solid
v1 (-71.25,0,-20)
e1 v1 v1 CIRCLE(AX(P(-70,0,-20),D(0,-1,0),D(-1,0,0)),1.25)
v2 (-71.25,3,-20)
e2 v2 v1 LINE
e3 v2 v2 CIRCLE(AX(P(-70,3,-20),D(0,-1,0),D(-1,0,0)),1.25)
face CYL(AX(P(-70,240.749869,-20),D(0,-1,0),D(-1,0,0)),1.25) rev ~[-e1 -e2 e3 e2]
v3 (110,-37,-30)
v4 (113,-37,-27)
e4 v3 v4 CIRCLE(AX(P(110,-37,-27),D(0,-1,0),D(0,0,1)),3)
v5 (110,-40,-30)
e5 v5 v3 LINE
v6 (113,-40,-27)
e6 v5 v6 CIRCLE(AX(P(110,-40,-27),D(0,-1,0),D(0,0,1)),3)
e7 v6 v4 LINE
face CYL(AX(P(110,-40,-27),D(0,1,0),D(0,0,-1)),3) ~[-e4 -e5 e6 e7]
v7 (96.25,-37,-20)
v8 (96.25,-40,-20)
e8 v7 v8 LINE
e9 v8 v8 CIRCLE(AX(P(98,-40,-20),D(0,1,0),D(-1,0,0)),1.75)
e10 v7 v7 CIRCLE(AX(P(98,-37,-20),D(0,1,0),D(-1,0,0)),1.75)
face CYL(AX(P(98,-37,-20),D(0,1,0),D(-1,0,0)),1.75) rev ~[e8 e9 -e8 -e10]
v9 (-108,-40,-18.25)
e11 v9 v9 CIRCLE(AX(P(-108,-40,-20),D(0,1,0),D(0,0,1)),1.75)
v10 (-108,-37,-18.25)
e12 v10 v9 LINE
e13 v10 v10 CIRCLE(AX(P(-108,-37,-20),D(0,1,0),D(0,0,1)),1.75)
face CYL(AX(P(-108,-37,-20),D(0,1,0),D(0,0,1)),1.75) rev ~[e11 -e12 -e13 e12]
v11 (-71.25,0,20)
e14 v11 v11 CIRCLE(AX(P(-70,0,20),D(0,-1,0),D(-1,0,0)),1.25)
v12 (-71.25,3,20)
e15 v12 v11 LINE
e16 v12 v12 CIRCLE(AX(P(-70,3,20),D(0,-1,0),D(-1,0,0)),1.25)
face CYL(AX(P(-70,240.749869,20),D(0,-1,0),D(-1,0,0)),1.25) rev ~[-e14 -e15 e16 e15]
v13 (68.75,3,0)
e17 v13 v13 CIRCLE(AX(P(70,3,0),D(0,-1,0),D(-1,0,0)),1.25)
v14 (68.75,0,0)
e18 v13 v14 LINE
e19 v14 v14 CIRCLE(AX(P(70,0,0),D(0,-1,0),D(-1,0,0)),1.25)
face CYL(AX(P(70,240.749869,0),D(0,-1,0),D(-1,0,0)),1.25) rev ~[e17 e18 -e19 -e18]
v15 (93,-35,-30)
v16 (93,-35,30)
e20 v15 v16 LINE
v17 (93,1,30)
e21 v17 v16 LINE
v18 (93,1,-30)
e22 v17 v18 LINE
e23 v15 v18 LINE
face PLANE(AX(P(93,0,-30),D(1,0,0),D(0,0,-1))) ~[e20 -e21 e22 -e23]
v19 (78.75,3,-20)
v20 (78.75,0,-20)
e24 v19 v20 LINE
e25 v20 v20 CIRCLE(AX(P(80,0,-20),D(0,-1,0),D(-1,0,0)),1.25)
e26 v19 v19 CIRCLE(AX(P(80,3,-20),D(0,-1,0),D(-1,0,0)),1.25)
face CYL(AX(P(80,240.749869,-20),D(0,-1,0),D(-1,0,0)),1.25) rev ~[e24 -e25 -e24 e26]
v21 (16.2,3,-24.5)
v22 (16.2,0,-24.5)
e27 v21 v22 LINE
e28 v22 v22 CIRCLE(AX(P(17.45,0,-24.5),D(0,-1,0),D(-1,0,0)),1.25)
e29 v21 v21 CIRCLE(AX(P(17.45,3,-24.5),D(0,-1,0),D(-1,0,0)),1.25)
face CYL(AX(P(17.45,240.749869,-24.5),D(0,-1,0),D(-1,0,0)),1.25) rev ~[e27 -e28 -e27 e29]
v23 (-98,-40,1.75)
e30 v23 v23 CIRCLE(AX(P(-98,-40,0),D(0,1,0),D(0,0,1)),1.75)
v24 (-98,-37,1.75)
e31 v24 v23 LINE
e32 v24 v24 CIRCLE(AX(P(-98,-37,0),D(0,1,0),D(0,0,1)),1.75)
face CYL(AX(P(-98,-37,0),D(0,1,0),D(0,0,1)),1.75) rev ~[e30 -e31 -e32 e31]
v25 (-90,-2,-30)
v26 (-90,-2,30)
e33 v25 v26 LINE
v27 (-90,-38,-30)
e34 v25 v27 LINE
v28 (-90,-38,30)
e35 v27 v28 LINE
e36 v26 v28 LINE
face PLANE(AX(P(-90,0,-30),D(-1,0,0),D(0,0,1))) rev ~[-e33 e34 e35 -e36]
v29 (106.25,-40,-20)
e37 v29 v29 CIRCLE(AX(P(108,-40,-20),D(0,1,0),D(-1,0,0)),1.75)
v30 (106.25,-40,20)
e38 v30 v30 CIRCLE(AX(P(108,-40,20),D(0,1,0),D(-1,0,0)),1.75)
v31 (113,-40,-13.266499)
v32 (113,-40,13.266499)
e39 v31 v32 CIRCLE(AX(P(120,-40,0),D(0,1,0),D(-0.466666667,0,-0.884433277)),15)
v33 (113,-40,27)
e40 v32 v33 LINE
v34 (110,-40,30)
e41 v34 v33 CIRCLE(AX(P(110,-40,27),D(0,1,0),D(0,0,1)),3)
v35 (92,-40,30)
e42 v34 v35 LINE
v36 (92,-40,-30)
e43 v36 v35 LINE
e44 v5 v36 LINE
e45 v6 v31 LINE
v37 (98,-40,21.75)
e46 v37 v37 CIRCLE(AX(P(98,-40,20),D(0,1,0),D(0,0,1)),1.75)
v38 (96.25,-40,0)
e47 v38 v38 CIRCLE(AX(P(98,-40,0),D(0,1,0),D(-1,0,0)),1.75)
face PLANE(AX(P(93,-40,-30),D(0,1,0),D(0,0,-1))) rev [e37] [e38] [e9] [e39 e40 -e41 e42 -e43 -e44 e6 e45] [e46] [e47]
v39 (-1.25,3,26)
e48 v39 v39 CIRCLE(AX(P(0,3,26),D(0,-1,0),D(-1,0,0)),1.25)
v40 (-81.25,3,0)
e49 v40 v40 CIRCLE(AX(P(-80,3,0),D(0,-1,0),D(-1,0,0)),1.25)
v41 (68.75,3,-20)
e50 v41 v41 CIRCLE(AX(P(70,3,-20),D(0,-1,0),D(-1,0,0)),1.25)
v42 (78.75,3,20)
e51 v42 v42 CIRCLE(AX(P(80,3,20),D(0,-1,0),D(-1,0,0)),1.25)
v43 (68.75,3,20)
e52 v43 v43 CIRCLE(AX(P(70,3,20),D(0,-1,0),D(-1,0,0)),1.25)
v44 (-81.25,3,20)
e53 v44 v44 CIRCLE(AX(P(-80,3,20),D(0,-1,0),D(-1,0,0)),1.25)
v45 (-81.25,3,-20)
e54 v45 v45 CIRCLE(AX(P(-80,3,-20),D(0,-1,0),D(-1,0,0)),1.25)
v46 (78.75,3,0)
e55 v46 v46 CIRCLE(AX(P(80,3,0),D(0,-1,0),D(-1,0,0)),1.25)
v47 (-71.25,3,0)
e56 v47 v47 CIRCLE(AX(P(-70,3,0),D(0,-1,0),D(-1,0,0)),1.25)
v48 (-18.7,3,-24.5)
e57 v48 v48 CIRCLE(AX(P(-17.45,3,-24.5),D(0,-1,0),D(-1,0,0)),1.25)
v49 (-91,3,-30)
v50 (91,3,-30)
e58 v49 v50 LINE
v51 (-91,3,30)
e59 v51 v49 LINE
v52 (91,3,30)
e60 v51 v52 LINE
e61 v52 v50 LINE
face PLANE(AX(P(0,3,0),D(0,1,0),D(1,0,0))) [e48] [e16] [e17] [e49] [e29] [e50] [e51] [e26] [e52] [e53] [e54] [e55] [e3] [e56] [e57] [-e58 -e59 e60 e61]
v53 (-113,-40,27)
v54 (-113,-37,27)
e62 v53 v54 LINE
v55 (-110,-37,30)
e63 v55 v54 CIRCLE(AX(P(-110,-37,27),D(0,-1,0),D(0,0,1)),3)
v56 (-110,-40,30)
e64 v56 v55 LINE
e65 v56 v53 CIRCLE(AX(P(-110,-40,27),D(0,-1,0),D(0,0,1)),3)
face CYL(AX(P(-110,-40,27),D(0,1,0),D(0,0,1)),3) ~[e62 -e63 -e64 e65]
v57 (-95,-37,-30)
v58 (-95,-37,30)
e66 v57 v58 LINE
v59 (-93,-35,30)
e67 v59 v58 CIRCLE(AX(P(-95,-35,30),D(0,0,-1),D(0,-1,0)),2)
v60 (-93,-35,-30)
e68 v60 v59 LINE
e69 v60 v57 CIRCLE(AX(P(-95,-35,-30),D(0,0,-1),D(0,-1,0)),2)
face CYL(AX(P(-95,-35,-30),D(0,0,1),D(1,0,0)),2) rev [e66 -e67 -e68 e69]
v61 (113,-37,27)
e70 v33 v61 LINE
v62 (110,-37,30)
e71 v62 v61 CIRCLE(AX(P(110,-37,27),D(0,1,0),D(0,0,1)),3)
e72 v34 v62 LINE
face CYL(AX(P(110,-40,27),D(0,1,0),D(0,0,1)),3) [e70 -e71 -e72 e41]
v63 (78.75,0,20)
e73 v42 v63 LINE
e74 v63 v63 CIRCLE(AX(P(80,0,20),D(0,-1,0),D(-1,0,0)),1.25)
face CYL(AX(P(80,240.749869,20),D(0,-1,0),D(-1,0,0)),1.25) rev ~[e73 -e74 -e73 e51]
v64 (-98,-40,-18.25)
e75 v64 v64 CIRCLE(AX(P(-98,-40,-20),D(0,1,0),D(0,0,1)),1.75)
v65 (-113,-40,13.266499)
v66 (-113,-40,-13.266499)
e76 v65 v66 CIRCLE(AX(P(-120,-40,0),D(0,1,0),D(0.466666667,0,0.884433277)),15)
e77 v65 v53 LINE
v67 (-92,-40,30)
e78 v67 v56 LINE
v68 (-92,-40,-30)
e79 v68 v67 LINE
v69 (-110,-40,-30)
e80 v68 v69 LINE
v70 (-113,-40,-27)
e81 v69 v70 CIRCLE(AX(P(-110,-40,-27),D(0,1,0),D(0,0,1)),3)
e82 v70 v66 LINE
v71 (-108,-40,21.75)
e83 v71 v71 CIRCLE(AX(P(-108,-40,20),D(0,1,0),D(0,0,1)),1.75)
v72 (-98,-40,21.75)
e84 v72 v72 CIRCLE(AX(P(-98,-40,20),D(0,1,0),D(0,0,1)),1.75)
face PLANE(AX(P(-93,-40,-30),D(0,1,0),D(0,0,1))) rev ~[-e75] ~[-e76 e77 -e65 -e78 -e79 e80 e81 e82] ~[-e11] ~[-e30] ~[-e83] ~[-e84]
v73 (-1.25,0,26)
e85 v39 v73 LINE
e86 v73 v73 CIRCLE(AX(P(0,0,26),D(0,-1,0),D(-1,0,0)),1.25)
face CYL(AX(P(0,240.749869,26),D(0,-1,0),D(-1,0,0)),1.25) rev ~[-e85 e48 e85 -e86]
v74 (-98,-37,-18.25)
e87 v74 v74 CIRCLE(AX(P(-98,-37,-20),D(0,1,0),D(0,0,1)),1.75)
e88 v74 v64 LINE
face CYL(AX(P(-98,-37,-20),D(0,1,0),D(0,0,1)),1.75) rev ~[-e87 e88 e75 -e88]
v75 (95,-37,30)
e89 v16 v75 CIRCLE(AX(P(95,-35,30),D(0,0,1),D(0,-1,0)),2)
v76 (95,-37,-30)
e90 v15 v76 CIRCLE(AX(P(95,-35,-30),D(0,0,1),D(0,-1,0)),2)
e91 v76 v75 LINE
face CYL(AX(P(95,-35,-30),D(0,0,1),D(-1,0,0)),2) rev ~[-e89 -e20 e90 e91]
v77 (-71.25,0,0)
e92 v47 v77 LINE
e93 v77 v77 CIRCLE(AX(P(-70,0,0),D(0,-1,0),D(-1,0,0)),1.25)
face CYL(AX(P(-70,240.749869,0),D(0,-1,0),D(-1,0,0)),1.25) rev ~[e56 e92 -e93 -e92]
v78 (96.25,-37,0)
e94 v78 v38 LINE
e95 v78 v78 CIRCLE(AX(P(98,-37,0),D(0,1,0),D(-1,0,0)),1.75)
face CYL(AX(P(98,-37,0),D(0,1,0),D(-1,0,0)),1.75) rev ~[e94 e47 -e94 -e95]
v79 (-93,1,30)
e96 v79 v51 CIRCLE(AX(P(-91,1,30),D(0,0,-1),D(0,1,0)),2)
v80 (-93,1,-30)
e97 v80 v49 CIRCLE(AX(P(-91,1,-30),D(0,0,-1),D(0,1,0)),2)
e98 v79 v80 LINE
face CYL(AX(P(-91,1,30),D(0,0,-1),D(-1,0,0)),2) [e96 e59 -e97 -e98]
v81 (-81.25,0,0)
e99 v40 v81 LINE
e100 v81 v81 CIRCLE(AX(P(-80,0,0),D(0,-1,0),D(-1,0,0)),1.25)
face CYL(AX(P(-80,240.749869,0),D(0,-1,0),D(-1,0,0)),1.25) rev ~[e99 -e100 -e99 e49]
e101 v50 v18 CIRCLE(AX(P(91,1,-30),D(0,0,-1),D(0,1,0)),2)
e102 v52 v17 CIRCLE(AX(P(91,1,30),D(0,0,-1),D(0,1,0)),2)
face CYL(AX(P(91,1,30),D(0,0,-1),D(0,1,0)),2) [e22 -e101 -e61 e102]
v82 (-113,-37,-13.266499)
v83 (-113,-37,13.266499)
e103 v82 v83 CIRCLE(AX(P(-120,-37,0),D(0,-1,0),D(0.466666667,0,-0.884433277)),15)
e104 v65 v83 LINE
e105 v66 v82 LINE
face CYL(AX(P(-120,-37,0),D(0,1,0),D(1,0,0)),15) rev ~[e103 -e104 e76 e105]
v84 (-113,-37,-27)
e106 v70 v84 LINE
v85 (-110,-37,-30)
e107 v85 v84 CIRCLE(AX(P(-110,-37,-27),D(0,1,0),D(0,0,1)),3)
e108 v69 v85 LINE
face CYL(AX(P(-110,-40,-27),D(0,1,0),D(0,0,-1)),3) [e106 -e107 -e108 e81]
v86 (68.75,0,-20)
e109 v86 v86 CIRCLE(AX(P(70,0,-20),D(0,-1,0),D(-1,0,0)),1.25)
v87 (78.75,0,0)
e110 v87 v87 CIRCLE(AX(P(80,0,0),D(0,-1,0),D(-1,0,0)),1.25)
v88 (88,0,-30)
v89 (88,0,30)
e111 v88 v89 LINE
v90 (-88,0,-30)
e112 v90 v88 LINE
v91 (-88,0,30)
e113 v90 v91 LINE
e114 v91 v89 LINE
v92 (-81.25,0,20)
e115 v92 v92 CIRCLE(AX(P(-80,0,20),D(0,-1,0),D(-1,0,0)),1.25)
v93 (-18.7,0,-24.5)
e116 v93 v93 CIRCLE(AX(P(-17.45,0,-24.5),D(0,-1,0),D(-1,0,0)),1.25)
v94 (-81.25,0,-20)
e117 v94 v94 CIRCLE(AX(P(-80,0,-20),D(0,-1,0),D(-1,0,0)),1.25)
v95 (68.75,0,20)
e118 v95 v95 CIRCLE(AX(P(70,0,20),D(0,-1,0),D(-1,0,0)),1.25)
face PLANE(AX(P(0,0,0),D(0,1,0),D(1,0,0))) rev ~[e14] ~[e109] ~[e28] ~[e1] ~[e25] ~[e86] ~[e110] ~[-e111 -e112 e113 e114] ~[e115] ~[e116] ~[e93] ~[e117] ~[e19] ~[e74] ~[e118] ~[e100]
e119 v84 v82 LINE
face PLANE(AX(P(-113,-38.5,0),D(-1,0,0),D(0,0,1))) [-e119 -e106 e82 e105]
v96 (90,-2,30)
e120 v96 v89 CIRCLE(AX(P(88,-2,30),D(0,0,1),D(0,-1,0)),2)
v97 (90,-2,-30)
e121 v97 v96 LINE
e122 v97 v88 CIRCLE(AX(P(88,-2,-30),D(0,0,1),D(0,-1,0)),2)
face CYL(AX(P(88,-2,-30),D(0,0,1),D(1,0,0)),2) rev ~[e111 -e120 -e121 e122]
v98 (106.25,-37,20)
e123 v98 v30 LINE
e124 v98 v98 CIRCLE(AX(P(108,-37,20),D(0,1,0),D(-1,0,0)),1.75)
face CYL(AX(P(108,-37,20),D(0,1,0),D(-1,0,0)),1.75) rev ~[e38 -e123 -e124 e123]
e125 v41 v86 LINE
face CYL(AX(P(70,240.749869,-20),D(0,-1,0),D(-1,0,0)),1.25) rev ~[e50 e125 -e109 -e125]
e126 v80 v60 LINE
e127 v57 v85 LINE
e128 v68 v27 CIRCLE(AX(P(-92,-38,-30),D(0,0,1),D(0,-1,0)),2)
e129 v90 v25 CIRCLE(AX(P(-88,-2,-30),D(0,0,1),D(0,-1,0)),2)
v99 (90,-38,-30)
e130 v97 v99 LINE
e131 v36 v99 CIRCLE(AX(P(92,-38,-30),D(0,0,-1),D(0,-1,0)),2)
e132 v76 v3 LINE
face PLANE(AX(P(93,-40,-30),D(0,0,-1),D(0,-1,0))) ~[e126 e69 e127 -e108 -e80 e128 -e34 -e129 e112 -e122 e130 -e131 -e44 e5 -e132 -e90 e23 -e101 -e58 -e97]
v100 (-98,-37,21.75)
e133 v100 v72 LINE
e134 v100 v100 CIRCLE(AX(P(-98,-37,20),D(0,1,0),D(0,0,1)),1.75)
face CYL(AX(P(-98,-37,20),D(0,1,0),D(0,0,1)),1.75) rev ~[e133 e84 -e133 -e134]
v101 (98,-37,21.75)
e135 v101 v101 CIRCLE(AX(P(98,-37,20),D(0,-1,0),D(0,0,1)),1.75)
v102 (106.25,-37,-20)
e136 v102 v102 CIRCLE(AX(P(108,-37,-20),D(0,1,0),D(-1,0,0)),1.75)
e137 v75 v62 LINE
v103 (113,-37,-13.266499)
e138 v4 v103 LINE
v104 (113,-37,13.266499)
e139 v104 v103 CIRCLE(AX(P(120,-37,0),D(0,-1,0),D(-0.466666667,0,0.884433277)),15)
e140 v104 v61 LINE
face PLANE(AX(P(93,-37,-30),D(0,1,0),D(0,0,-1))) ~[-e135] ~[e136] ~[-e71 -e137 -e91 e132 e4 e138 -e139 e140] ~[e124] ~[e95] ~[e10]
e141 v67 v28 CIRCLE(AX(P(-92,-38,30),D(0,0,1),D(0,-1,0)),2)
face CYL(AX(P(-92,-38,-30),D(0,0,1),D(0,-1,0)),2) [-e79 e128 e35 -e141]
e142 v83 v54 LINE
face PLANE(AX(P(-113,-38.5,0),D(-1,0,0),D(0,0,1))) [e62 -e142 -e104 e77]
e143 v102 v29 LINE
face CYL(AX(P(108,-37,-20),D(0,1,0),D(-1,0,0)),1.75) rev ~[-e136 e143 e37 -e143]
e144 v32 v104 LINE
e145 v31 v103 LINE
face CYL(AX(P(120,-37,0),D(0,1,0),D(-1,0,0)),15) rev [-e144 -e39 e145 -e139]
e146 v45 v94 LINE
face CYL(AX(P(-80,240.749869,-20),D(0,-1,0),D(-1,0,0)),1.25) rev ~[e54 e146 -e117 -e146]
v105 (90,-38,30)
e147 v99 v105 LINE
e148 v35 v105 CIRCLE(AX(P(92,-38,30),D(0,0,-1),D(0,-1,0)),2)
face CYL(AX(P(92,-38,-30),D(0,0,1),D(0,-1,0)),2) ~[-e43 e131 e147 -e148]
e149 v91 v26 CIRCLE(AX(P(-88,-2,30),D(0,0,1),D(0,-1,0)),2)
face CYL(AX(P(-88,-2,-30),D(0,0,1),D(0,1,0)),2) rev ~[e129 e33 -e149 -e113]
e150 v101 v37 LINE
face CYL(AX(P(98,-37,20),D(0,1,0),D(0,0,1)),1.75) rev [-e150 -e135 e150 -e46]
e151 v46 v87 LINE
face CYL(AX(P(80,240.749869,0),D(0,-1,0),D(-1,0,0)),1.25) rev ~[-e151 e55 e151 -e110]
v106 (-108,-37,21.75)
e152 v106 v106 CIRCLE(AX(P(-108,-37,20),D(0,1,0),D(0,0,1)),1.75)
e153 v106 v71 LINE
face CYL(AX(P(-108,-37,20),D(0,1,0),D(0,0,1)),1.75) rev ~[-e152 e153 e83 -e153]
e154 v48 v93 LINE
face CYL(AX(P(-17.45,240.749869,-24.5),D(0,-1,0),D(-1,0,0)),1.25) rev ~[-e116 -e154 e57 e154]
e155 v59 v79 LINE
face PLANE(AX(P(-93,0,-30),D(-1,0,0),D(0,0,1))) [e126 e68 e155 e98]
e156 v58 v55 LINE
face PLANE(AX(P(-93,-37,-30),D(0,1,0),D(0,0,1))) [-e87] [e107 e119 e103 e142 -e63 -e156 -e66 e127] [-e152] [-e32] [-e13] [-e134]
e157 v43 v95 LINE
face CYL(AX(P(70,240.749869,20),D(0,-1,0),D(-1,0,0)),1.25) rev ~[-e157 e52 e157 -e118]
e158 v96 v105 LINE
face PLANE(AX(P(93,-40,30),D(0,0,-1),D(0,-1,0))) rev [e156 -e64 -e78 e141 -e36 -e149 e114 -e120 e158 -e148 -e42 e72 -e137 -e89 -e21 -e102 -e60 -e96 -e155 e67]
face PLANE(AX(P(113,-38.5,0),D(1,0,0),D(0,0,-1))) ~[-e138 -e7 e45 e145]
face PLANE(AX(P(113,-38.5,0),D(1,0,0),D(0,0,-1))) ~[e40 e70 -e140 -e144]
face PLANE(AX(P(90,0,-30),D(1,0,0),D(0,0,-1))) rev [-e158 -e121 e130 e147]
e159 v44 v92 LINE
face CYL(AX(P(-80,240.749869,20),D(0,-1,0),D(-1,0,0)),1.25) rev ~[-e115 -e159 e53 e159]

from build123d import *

# Parameters (mm, degrees)
SKETCH_1_W                  = 186
SKETCH_1_H                  = 60
EXTRUDE_1_DEPTH             = 3
SKETCH_2_W                  = 3
SKETCH_2_H                  = 60
EXTRUDE_2_DEPTH             = 40
SKETCH_3_W                  = 60
SKETCH_3_H                  = 3
EXTRUDE_3_DEPTH             = 20
SKETCH_4_R                  = 1.75
CUT_EXTRUDE_1_DEPTH         = 124.567795157
PATTERN_LINEAR_1_COUNT      = 3
PATTERN_LINEAR_1_PITCH      = 20
PATTERN_LINEAR_1_COUNT_DIR2 = 2
PATTERN_LINEAR_1_PITCH_DIR2 = 10
MIRROR_4_COPY_1_SKETCH_R    = 1.75
MIRROR_4_COPY_1_DEPTH       = 124.567795157
MIRROR_4_COPY_2_SKETCH_R    = 1.75
MIRROR_4_COPY_2_DEPTH       = 124.567795157
MIRROR_4_COPY_3_SKETCH_R    = 1.75
MIRROR_4_COPY_3_DEPTH       = 124.567795157
MIRROR_4_COPY_4_SKETCH_R    = 1.75
MIRROR_4_COPY_4_DEPTH       = 124.567795157
MIRROR_4_COPY_5_SKETCH_R    = 1.75
MIRROR_4_COPY_5_DEPTH       = 124.567795157
SKETCH_5_R                  = 1
CUT_EXTRUDE_2_DEPTH         = 3
SKETCH_6_R                  = 1
CUT_EXTRUDE_3_DEPTH         = 3
SKETCH_7_R                  = 1
CUT_EXTRUDE_4_DEPTH         = 3
PATTERN_LINEAR_2_COUNT      = 3
PATTERN_LINEAR_2_PITCH      = 20
PATTERN_LINEAR_2_COUNT_DIR2 = 2
PATTERN_LINEAR_2_PITCH_DIR2 = 10
MIRROR_6_COPY_1_SKETCH_R    = 1
MIRROR_6_COPY_1_DEPTH       = 3
MIRROR_6_COPY_2_SKETCH_R    = 1
MIRROR_6_COPY_2_DEPTH       = 3
MIRROR_6_COPY_3_SKETCH_R    = 1
MIRROR_6_COPY_3_DEPTH       = 3
MIRROR_6_COPY_4_SKETCH_R    = 1
MIRROR_6_COPY_4_DEPTH       = 3
MIRROR_6_COPY_5_SKETCH_R    = 1
MIRROR_6_COPY_5_DEPTH       = 3
HOLE_WIZARD_M3_1_D          = 2.5
HOLE_WIZARD_M3_2_D          = 2.5
SKETCH_12_R                 = 15
CUT_EXTRUDE_5_DEPTH         = 124.567795157
FILLET_2_R                  = 2
FILLET_3_R                  = 2
FILLET_4_R                  = 2
FILLET_5_R                  = 3


with BuildPart() as part:
    # 草图1 → 凸台-拉伸1 (new body)
    with BuildSketch(Plane(origin=(0, 0, 0), x_dir=(1, 0, 0), z_dir=(0, 1, 0))):
        Rectangle(SKETCH_1_W, SKETCH_1_H)
    extrude(amount=EXTRUDE_1_DEPTH)

    # 草图2 → 凸台-拉伸2 (add)
    with BuildSketch(Plane.XZ):
        with Locations((-91.5, 0)):
            Rectangle(SKETCH_2_W, SKETCH_2_H)
    extrude_2 = extrude(amount=EXTRUDE_2_DEPTH)

    # 草图3 → 凸台-拉伸3 (add)
    with BuildSketch(Plane.ZY.offset(93)):
        with Locations((0, -38.5)):
            Rectangle(SKETCH_3_W, SKETCH_3_H)
    extrude_3 = extrude(amount=EXTRUDE_3_DEPTH)

    # 草图4 → 切除-拉伸1 (cut, through all)
    with BuildSketch(Plane(origin=(0, -37, 0), x_dir=(1, 0, 0), z_dir=(0, 1, 0))):
        with Locations(Location((-98, -20, 0), (0, 0, 270))):
            Circle(SKETCH_4_R)
    cut_extrude_1 = extrude(amount=-CUT_EXTRUDE_1_DEPTH, mode=Mode.SUBTRACT)

    # 阵列(线性)1: Cut-Extrude 1 3 × 2
    with Locations(*[(-j * PATTERN_LINEAR_1_PITCH_DIR2, 0, -i * PATTERN_LINEAR_1_PITCH) for i in range(PATTERN_LINEAR_1_COUNT) for j in range(PATTERN_LINEAR_1_COUNT_DIR2) if (i, j) != (0, 0)]):
        add(cut_extrude_1, mode=Mode.SUBTRACT)

    # 镜向4: 凸台-拉伸2, 凸台-拉伸3, 切除-拉伸1 across plane
    add(extrude_2.mirror(Plane(origin=(0, 0, 0), x_dir=(0, 0, 1), z_dir=(1, 0, 0))))
    add(extrude_3.mirror(Plane(origin=(0, 0, 0), x_dir=(0, 0, 1), z_dir=(1, 0, 0))))
    add(cut_extrude_1.mirror(Plane(origin=(0, 0, 0), x_dir=(0, 0, 1), z_dir=(1, 0, 0))), mode=Mode.SUBTRACT)

    # 镜向4 copy 1 sketch → 镜向4 copy 1 (cut, through all)
    with BuildSketch(Plane(origin=(10, -37, 0), x_dir=(-1, 0, 0), z_dir=(0, 1, 0))):
        with Locations((-98, 20)):
            Circle(MIRROR_4_COPY_1_SKETCH_R)
    extrude(amount=-MIRROR_4_COPY_1_DEPTH, mode=Mode.SUBTRACT)

    # 镜向4 copy 2 sketch → 镜向4 copy 2 (cut, through all)
    with BuildSketch(Plane(origin=(0, -37, -20), x_dir=(-1, 0, 0), z_dir=(0, 1, 0))):
        with Locations((-98, 20)):
            Circle(MIRROR_4_COPY_2_SKETCH_R)
    extrude(amount=-MIRROR_4_COPY_2_DEPTH, mode=Mode.SUBTRACT)

    # 镜向4 copy 3 sketch → 镜向4 copy 3 (cut, through all)
    with BuildSketch(Plane(origin=(10, -37, -20), x_dir=(-1, 0, 0), z_dir=(0, 1, 0))):
        with Locations((-98, 20)):
            Circle(MIRROR_4_COPY_3_SKETCH_R)
    extrude(amount=-MIRROR_4_COPY_3_DEPTH, mode=Mode.SUBTRACT)

    # 镜向4 copy 4 sketch → 镜向4 copy 4 (cut, through all)
    with BuildSketch(Plane(origin=(0, -37, -40), x_dir=(-1, 0, 0), z_dir=(0, 1, 0))):
        with Locations((-98, 20)):
            Circle(MIRROR_4_COPY_4_SKETCH_R)
    extrude(amount=-MIRROR_4_COPY_4_DEPTH, mode=Mode.SUBTRACT)

    # 镜向4 copy 5 sketch → 镜向4 copy 5 (cut, through all)
    with BuildSketch(Plane(origin=(10, -37, -40), x_dir=(-1, 0, 0), z_dir=(0, 1, 0))):
        with Locations((-98, 20)):
            Circle(MIRROR_4_COPY_5_SKETCH_R)
    extrude(amount=-MIRROR_4_COPY_5_DEPTH, mode=Mode.SUBTRACT)

    # 草图5 → 切除-拉伸2 (cut)
    with BuildSketch(Plane(origin=(0, 3, 0), x_dir=(1, 0, 0), z_dir=(0, 1, 0))):
        with Locations(Location((0, -26, 0), (0, 0, 270))):
            Circle(SKETCH_5_R)
    extrude(amount=-CUT_EXTRUDE_2_DEPTH, mode=Mode.SUBTRACT)

    # 草图6 → 切除-拉伸3 (cut)
    with BuildSketch(Plane(origin=(0, 3, 0), x_dir=(1, 0, 0), z_dir=(0, 1, 0))):
        with Locations(Location((-17.45, 24.5, 0), (0, 0, 270))):
            Circle(SKETCH_6_R)
    cut_extrude_3 = extrude(amount=-CUT_EXTRUDE_3_DEPTH, mode=Mode.SUBTRACT)

    # 镜向5: 切除-拉伸3 across plane
    add(cut_extrude_3.mirror(Plane(origin=(0, 0, 0), x_dir=(0, 0, 1), z_dir=(1, 0, 0))), mode=Mode.SUBTRACT)

    # 草图7 → 切除-拉伸4 (cut)
    with BuildSketch(Plane(origin=(0, 3, 0), x_dir=(1, 0, 0), z_dir=(0, 1, 0))):
        with Locations(Location((-70, -20, 0), (0, 0, 270))):
            Circle(SKETCH_7_R)
    cut_extrude_4 = extrude(amount=-CUT_EXTRUDE_4_DEPTH, mode=Mode.SUBTRACT)

    # 阵列(线性)2: Cut-Extrude 4 3 × 2
    with Locations(*[(-j * PATTERN_LINEAR_2_PITCH_DIR2, 0, -i * PATTERN_LINEAR_2_PITCH) for i in range(PATTERN_LINEAR_2_COUNT) for j in range(PATTERN_LINEAR_2_COUNT_DIR2) if (i, j) != (0, 0)]):
        add(cut_extrude_4, mode=Mode.SUBTRACT)

    # 镜向6: 切除-拉伸4 across plane
    add(cut_extrude_4.mirror(Plane(origin=(0, 0, 0), x_dir=(0, 0, 1), z_dir=(1, 0, 0))), mode=Mode.SUBTRACT)

    # 镜向6 copy 1 sketch → 镜向6 copy 1 (cut)
    with BuildSketch(Plane(origin=(10, 3, 0), x_dir=(-1, 0, 0), z_dir=(0, 1, 0))):
        with Locations((-70, 20)):
            Circle(MIRROR_6_COPY_1_SKETCH_R)
    extrude(amount=-MIRROR_6_COPY_1_DEPTH, mode=Mode.SUBTRACT)

    # 镜向6 copy 2 sketch → 镜向6 copy 2 (cut)
    with BuildSketch(Plane(origin=(0, 3, -20), x_dir=(-1, 0, 0), z_dir=(0, 1, 0))):
        with Locations((-70, 20)):
            Circle(MIRROR_6_COPY_2_SKETCH_R)
    extrude(amount=-MIRROR_6_COPY_2_DEPTH, mode=Mode.SUBTRACT)

    # 镜向6 copy 3 sketch → 镜向6 copy 3 (cut)
    with BuildSketch(Plane(origin=(10, 3, -20), x_dir=(-1, 0, 0), z_dir=(0, 1, 0))):
        with Locations((-70, 20)):
            Circle(MIRROR_6_COPY_3_SKETCH_R)
    extrude(amount=-MIRROR_6_COPY_3_DEPTH, mode=Mode.SUBTRACT)

    # 镜向6 copy 4 sketch → 镜向6 copy 4 (cut)
    with BuildSketch(Plane(origin=(0, 3, -40), x_dir=(-1, 0, 0), z_dir=(0, 1, 0))):
        with Locations((-70, 20)):
            Circle(MIRROR_6_COPY_4_SKETCH_R)
    extrude(amount=-MIRROR_6_COPY_4_DEPTH, mode=Mode.SUBTRACT)

    # 镜向6 copy 5 sketch → 镜向6 copy 5 (cut)
    with BuildSketch(Plane(origin=(10, 3, -40), x_dir=(-1, 0, 0), z_dir=(0, 1, 0))):
        with Locations((-70, 20)):
            Circle(MIRROR_6_COPY_5_SKETCH_R)
    extrude(amount=-MIRROR_6_COPY_5_DEPTH, mode=Mode.SUBTRACT)

    # M3 螺纹孔1 (through all)
    with Locations(Plane(origin=(0, 3, 0), x_dir=(1, 0, 0), z_dir=(0, 1, 0))):
        with Locations((-80, -20), (-70, -20), (-70, 0), (-80, 0), (-70, 20), (-80, 20), (70, -20), (80, -20), (70, 0), (80, 0), (70, 20), (80, 20)):
            Hole(HOLE_WIZARD_M3_1_D / 2)

    # M3 螺纹孔2 (through all)
    with Locations(Plane(origin=(0, 3, 0), x_dir=(1, 0, 0), z_dir=(0, 1, 0))):
        with Locations((-17.45, 24.5), (17.45, 24.5), (0, -26)):
            Hole(HOLE_WIZARD_M3_2_D / 2)

    # 草图12 → 切除-拉伸5 (cut, through all)
    with BuildSketch(Plane(origin=(0, -37, 0), x_dir=(1, 0, 0), z_dir=(0, 1, 0))):
        with Locations((-120, 0)):
            Circle(SKETCH_12_R)
    cut_extrude_5 = extrude(amount=-CUT_EXTRUDE_5_DEPTH, mode=Mode.SUBTRACT)

    # 镜向7: 切除-拉伸5 across plane
    add(cut_extrude_5.mirror(Plane(origin=(0, 0, 0), x_dir=(0, 0, 1), z_dir=(1, 0, 0))), mode=Mode.SUBTRACT)

    # 圆角2
    fillet_2_edges = [part.edges().sort_by_distance(p)[0] for p in [
        (-90, 0, 0),
        (-93, 3, 0),
    ]]
    fillet(fillet_2_edges, radius=FILLET_2_R)

    # 圆角3
    fillet_3_edges = [part.edges().sort_by_distance(p)[0] for p in [
        (93, 3, 0),
        (90, 0, 0),
    ]]
    fillet(fillet_3_edges, radius=FILLET_3_R)

    # 圆角4
    fillet_4_edges = [part.edges().sort_by_distance(p)[0] for p in [
        (-90, -40, 0),
        (-93, -37, 0),
        (90, -40, 0),
        (93, -37, 0),
    ]]
    fillet(fillet_4_edges, radius=FILLET_4_R)

    # 圆角5
    fillet_5_edges = [part.edges().sort_by_distance(p)[0] for p in [
        (-113, -38.5, -30),
        (-113, -38.5, 30),
        (113, -38.5, 30),
        (113, -38.5, -30),
    ]]
    fillet(fillet_5_edges, radius=FILLET_5_R)


solid = part.part
